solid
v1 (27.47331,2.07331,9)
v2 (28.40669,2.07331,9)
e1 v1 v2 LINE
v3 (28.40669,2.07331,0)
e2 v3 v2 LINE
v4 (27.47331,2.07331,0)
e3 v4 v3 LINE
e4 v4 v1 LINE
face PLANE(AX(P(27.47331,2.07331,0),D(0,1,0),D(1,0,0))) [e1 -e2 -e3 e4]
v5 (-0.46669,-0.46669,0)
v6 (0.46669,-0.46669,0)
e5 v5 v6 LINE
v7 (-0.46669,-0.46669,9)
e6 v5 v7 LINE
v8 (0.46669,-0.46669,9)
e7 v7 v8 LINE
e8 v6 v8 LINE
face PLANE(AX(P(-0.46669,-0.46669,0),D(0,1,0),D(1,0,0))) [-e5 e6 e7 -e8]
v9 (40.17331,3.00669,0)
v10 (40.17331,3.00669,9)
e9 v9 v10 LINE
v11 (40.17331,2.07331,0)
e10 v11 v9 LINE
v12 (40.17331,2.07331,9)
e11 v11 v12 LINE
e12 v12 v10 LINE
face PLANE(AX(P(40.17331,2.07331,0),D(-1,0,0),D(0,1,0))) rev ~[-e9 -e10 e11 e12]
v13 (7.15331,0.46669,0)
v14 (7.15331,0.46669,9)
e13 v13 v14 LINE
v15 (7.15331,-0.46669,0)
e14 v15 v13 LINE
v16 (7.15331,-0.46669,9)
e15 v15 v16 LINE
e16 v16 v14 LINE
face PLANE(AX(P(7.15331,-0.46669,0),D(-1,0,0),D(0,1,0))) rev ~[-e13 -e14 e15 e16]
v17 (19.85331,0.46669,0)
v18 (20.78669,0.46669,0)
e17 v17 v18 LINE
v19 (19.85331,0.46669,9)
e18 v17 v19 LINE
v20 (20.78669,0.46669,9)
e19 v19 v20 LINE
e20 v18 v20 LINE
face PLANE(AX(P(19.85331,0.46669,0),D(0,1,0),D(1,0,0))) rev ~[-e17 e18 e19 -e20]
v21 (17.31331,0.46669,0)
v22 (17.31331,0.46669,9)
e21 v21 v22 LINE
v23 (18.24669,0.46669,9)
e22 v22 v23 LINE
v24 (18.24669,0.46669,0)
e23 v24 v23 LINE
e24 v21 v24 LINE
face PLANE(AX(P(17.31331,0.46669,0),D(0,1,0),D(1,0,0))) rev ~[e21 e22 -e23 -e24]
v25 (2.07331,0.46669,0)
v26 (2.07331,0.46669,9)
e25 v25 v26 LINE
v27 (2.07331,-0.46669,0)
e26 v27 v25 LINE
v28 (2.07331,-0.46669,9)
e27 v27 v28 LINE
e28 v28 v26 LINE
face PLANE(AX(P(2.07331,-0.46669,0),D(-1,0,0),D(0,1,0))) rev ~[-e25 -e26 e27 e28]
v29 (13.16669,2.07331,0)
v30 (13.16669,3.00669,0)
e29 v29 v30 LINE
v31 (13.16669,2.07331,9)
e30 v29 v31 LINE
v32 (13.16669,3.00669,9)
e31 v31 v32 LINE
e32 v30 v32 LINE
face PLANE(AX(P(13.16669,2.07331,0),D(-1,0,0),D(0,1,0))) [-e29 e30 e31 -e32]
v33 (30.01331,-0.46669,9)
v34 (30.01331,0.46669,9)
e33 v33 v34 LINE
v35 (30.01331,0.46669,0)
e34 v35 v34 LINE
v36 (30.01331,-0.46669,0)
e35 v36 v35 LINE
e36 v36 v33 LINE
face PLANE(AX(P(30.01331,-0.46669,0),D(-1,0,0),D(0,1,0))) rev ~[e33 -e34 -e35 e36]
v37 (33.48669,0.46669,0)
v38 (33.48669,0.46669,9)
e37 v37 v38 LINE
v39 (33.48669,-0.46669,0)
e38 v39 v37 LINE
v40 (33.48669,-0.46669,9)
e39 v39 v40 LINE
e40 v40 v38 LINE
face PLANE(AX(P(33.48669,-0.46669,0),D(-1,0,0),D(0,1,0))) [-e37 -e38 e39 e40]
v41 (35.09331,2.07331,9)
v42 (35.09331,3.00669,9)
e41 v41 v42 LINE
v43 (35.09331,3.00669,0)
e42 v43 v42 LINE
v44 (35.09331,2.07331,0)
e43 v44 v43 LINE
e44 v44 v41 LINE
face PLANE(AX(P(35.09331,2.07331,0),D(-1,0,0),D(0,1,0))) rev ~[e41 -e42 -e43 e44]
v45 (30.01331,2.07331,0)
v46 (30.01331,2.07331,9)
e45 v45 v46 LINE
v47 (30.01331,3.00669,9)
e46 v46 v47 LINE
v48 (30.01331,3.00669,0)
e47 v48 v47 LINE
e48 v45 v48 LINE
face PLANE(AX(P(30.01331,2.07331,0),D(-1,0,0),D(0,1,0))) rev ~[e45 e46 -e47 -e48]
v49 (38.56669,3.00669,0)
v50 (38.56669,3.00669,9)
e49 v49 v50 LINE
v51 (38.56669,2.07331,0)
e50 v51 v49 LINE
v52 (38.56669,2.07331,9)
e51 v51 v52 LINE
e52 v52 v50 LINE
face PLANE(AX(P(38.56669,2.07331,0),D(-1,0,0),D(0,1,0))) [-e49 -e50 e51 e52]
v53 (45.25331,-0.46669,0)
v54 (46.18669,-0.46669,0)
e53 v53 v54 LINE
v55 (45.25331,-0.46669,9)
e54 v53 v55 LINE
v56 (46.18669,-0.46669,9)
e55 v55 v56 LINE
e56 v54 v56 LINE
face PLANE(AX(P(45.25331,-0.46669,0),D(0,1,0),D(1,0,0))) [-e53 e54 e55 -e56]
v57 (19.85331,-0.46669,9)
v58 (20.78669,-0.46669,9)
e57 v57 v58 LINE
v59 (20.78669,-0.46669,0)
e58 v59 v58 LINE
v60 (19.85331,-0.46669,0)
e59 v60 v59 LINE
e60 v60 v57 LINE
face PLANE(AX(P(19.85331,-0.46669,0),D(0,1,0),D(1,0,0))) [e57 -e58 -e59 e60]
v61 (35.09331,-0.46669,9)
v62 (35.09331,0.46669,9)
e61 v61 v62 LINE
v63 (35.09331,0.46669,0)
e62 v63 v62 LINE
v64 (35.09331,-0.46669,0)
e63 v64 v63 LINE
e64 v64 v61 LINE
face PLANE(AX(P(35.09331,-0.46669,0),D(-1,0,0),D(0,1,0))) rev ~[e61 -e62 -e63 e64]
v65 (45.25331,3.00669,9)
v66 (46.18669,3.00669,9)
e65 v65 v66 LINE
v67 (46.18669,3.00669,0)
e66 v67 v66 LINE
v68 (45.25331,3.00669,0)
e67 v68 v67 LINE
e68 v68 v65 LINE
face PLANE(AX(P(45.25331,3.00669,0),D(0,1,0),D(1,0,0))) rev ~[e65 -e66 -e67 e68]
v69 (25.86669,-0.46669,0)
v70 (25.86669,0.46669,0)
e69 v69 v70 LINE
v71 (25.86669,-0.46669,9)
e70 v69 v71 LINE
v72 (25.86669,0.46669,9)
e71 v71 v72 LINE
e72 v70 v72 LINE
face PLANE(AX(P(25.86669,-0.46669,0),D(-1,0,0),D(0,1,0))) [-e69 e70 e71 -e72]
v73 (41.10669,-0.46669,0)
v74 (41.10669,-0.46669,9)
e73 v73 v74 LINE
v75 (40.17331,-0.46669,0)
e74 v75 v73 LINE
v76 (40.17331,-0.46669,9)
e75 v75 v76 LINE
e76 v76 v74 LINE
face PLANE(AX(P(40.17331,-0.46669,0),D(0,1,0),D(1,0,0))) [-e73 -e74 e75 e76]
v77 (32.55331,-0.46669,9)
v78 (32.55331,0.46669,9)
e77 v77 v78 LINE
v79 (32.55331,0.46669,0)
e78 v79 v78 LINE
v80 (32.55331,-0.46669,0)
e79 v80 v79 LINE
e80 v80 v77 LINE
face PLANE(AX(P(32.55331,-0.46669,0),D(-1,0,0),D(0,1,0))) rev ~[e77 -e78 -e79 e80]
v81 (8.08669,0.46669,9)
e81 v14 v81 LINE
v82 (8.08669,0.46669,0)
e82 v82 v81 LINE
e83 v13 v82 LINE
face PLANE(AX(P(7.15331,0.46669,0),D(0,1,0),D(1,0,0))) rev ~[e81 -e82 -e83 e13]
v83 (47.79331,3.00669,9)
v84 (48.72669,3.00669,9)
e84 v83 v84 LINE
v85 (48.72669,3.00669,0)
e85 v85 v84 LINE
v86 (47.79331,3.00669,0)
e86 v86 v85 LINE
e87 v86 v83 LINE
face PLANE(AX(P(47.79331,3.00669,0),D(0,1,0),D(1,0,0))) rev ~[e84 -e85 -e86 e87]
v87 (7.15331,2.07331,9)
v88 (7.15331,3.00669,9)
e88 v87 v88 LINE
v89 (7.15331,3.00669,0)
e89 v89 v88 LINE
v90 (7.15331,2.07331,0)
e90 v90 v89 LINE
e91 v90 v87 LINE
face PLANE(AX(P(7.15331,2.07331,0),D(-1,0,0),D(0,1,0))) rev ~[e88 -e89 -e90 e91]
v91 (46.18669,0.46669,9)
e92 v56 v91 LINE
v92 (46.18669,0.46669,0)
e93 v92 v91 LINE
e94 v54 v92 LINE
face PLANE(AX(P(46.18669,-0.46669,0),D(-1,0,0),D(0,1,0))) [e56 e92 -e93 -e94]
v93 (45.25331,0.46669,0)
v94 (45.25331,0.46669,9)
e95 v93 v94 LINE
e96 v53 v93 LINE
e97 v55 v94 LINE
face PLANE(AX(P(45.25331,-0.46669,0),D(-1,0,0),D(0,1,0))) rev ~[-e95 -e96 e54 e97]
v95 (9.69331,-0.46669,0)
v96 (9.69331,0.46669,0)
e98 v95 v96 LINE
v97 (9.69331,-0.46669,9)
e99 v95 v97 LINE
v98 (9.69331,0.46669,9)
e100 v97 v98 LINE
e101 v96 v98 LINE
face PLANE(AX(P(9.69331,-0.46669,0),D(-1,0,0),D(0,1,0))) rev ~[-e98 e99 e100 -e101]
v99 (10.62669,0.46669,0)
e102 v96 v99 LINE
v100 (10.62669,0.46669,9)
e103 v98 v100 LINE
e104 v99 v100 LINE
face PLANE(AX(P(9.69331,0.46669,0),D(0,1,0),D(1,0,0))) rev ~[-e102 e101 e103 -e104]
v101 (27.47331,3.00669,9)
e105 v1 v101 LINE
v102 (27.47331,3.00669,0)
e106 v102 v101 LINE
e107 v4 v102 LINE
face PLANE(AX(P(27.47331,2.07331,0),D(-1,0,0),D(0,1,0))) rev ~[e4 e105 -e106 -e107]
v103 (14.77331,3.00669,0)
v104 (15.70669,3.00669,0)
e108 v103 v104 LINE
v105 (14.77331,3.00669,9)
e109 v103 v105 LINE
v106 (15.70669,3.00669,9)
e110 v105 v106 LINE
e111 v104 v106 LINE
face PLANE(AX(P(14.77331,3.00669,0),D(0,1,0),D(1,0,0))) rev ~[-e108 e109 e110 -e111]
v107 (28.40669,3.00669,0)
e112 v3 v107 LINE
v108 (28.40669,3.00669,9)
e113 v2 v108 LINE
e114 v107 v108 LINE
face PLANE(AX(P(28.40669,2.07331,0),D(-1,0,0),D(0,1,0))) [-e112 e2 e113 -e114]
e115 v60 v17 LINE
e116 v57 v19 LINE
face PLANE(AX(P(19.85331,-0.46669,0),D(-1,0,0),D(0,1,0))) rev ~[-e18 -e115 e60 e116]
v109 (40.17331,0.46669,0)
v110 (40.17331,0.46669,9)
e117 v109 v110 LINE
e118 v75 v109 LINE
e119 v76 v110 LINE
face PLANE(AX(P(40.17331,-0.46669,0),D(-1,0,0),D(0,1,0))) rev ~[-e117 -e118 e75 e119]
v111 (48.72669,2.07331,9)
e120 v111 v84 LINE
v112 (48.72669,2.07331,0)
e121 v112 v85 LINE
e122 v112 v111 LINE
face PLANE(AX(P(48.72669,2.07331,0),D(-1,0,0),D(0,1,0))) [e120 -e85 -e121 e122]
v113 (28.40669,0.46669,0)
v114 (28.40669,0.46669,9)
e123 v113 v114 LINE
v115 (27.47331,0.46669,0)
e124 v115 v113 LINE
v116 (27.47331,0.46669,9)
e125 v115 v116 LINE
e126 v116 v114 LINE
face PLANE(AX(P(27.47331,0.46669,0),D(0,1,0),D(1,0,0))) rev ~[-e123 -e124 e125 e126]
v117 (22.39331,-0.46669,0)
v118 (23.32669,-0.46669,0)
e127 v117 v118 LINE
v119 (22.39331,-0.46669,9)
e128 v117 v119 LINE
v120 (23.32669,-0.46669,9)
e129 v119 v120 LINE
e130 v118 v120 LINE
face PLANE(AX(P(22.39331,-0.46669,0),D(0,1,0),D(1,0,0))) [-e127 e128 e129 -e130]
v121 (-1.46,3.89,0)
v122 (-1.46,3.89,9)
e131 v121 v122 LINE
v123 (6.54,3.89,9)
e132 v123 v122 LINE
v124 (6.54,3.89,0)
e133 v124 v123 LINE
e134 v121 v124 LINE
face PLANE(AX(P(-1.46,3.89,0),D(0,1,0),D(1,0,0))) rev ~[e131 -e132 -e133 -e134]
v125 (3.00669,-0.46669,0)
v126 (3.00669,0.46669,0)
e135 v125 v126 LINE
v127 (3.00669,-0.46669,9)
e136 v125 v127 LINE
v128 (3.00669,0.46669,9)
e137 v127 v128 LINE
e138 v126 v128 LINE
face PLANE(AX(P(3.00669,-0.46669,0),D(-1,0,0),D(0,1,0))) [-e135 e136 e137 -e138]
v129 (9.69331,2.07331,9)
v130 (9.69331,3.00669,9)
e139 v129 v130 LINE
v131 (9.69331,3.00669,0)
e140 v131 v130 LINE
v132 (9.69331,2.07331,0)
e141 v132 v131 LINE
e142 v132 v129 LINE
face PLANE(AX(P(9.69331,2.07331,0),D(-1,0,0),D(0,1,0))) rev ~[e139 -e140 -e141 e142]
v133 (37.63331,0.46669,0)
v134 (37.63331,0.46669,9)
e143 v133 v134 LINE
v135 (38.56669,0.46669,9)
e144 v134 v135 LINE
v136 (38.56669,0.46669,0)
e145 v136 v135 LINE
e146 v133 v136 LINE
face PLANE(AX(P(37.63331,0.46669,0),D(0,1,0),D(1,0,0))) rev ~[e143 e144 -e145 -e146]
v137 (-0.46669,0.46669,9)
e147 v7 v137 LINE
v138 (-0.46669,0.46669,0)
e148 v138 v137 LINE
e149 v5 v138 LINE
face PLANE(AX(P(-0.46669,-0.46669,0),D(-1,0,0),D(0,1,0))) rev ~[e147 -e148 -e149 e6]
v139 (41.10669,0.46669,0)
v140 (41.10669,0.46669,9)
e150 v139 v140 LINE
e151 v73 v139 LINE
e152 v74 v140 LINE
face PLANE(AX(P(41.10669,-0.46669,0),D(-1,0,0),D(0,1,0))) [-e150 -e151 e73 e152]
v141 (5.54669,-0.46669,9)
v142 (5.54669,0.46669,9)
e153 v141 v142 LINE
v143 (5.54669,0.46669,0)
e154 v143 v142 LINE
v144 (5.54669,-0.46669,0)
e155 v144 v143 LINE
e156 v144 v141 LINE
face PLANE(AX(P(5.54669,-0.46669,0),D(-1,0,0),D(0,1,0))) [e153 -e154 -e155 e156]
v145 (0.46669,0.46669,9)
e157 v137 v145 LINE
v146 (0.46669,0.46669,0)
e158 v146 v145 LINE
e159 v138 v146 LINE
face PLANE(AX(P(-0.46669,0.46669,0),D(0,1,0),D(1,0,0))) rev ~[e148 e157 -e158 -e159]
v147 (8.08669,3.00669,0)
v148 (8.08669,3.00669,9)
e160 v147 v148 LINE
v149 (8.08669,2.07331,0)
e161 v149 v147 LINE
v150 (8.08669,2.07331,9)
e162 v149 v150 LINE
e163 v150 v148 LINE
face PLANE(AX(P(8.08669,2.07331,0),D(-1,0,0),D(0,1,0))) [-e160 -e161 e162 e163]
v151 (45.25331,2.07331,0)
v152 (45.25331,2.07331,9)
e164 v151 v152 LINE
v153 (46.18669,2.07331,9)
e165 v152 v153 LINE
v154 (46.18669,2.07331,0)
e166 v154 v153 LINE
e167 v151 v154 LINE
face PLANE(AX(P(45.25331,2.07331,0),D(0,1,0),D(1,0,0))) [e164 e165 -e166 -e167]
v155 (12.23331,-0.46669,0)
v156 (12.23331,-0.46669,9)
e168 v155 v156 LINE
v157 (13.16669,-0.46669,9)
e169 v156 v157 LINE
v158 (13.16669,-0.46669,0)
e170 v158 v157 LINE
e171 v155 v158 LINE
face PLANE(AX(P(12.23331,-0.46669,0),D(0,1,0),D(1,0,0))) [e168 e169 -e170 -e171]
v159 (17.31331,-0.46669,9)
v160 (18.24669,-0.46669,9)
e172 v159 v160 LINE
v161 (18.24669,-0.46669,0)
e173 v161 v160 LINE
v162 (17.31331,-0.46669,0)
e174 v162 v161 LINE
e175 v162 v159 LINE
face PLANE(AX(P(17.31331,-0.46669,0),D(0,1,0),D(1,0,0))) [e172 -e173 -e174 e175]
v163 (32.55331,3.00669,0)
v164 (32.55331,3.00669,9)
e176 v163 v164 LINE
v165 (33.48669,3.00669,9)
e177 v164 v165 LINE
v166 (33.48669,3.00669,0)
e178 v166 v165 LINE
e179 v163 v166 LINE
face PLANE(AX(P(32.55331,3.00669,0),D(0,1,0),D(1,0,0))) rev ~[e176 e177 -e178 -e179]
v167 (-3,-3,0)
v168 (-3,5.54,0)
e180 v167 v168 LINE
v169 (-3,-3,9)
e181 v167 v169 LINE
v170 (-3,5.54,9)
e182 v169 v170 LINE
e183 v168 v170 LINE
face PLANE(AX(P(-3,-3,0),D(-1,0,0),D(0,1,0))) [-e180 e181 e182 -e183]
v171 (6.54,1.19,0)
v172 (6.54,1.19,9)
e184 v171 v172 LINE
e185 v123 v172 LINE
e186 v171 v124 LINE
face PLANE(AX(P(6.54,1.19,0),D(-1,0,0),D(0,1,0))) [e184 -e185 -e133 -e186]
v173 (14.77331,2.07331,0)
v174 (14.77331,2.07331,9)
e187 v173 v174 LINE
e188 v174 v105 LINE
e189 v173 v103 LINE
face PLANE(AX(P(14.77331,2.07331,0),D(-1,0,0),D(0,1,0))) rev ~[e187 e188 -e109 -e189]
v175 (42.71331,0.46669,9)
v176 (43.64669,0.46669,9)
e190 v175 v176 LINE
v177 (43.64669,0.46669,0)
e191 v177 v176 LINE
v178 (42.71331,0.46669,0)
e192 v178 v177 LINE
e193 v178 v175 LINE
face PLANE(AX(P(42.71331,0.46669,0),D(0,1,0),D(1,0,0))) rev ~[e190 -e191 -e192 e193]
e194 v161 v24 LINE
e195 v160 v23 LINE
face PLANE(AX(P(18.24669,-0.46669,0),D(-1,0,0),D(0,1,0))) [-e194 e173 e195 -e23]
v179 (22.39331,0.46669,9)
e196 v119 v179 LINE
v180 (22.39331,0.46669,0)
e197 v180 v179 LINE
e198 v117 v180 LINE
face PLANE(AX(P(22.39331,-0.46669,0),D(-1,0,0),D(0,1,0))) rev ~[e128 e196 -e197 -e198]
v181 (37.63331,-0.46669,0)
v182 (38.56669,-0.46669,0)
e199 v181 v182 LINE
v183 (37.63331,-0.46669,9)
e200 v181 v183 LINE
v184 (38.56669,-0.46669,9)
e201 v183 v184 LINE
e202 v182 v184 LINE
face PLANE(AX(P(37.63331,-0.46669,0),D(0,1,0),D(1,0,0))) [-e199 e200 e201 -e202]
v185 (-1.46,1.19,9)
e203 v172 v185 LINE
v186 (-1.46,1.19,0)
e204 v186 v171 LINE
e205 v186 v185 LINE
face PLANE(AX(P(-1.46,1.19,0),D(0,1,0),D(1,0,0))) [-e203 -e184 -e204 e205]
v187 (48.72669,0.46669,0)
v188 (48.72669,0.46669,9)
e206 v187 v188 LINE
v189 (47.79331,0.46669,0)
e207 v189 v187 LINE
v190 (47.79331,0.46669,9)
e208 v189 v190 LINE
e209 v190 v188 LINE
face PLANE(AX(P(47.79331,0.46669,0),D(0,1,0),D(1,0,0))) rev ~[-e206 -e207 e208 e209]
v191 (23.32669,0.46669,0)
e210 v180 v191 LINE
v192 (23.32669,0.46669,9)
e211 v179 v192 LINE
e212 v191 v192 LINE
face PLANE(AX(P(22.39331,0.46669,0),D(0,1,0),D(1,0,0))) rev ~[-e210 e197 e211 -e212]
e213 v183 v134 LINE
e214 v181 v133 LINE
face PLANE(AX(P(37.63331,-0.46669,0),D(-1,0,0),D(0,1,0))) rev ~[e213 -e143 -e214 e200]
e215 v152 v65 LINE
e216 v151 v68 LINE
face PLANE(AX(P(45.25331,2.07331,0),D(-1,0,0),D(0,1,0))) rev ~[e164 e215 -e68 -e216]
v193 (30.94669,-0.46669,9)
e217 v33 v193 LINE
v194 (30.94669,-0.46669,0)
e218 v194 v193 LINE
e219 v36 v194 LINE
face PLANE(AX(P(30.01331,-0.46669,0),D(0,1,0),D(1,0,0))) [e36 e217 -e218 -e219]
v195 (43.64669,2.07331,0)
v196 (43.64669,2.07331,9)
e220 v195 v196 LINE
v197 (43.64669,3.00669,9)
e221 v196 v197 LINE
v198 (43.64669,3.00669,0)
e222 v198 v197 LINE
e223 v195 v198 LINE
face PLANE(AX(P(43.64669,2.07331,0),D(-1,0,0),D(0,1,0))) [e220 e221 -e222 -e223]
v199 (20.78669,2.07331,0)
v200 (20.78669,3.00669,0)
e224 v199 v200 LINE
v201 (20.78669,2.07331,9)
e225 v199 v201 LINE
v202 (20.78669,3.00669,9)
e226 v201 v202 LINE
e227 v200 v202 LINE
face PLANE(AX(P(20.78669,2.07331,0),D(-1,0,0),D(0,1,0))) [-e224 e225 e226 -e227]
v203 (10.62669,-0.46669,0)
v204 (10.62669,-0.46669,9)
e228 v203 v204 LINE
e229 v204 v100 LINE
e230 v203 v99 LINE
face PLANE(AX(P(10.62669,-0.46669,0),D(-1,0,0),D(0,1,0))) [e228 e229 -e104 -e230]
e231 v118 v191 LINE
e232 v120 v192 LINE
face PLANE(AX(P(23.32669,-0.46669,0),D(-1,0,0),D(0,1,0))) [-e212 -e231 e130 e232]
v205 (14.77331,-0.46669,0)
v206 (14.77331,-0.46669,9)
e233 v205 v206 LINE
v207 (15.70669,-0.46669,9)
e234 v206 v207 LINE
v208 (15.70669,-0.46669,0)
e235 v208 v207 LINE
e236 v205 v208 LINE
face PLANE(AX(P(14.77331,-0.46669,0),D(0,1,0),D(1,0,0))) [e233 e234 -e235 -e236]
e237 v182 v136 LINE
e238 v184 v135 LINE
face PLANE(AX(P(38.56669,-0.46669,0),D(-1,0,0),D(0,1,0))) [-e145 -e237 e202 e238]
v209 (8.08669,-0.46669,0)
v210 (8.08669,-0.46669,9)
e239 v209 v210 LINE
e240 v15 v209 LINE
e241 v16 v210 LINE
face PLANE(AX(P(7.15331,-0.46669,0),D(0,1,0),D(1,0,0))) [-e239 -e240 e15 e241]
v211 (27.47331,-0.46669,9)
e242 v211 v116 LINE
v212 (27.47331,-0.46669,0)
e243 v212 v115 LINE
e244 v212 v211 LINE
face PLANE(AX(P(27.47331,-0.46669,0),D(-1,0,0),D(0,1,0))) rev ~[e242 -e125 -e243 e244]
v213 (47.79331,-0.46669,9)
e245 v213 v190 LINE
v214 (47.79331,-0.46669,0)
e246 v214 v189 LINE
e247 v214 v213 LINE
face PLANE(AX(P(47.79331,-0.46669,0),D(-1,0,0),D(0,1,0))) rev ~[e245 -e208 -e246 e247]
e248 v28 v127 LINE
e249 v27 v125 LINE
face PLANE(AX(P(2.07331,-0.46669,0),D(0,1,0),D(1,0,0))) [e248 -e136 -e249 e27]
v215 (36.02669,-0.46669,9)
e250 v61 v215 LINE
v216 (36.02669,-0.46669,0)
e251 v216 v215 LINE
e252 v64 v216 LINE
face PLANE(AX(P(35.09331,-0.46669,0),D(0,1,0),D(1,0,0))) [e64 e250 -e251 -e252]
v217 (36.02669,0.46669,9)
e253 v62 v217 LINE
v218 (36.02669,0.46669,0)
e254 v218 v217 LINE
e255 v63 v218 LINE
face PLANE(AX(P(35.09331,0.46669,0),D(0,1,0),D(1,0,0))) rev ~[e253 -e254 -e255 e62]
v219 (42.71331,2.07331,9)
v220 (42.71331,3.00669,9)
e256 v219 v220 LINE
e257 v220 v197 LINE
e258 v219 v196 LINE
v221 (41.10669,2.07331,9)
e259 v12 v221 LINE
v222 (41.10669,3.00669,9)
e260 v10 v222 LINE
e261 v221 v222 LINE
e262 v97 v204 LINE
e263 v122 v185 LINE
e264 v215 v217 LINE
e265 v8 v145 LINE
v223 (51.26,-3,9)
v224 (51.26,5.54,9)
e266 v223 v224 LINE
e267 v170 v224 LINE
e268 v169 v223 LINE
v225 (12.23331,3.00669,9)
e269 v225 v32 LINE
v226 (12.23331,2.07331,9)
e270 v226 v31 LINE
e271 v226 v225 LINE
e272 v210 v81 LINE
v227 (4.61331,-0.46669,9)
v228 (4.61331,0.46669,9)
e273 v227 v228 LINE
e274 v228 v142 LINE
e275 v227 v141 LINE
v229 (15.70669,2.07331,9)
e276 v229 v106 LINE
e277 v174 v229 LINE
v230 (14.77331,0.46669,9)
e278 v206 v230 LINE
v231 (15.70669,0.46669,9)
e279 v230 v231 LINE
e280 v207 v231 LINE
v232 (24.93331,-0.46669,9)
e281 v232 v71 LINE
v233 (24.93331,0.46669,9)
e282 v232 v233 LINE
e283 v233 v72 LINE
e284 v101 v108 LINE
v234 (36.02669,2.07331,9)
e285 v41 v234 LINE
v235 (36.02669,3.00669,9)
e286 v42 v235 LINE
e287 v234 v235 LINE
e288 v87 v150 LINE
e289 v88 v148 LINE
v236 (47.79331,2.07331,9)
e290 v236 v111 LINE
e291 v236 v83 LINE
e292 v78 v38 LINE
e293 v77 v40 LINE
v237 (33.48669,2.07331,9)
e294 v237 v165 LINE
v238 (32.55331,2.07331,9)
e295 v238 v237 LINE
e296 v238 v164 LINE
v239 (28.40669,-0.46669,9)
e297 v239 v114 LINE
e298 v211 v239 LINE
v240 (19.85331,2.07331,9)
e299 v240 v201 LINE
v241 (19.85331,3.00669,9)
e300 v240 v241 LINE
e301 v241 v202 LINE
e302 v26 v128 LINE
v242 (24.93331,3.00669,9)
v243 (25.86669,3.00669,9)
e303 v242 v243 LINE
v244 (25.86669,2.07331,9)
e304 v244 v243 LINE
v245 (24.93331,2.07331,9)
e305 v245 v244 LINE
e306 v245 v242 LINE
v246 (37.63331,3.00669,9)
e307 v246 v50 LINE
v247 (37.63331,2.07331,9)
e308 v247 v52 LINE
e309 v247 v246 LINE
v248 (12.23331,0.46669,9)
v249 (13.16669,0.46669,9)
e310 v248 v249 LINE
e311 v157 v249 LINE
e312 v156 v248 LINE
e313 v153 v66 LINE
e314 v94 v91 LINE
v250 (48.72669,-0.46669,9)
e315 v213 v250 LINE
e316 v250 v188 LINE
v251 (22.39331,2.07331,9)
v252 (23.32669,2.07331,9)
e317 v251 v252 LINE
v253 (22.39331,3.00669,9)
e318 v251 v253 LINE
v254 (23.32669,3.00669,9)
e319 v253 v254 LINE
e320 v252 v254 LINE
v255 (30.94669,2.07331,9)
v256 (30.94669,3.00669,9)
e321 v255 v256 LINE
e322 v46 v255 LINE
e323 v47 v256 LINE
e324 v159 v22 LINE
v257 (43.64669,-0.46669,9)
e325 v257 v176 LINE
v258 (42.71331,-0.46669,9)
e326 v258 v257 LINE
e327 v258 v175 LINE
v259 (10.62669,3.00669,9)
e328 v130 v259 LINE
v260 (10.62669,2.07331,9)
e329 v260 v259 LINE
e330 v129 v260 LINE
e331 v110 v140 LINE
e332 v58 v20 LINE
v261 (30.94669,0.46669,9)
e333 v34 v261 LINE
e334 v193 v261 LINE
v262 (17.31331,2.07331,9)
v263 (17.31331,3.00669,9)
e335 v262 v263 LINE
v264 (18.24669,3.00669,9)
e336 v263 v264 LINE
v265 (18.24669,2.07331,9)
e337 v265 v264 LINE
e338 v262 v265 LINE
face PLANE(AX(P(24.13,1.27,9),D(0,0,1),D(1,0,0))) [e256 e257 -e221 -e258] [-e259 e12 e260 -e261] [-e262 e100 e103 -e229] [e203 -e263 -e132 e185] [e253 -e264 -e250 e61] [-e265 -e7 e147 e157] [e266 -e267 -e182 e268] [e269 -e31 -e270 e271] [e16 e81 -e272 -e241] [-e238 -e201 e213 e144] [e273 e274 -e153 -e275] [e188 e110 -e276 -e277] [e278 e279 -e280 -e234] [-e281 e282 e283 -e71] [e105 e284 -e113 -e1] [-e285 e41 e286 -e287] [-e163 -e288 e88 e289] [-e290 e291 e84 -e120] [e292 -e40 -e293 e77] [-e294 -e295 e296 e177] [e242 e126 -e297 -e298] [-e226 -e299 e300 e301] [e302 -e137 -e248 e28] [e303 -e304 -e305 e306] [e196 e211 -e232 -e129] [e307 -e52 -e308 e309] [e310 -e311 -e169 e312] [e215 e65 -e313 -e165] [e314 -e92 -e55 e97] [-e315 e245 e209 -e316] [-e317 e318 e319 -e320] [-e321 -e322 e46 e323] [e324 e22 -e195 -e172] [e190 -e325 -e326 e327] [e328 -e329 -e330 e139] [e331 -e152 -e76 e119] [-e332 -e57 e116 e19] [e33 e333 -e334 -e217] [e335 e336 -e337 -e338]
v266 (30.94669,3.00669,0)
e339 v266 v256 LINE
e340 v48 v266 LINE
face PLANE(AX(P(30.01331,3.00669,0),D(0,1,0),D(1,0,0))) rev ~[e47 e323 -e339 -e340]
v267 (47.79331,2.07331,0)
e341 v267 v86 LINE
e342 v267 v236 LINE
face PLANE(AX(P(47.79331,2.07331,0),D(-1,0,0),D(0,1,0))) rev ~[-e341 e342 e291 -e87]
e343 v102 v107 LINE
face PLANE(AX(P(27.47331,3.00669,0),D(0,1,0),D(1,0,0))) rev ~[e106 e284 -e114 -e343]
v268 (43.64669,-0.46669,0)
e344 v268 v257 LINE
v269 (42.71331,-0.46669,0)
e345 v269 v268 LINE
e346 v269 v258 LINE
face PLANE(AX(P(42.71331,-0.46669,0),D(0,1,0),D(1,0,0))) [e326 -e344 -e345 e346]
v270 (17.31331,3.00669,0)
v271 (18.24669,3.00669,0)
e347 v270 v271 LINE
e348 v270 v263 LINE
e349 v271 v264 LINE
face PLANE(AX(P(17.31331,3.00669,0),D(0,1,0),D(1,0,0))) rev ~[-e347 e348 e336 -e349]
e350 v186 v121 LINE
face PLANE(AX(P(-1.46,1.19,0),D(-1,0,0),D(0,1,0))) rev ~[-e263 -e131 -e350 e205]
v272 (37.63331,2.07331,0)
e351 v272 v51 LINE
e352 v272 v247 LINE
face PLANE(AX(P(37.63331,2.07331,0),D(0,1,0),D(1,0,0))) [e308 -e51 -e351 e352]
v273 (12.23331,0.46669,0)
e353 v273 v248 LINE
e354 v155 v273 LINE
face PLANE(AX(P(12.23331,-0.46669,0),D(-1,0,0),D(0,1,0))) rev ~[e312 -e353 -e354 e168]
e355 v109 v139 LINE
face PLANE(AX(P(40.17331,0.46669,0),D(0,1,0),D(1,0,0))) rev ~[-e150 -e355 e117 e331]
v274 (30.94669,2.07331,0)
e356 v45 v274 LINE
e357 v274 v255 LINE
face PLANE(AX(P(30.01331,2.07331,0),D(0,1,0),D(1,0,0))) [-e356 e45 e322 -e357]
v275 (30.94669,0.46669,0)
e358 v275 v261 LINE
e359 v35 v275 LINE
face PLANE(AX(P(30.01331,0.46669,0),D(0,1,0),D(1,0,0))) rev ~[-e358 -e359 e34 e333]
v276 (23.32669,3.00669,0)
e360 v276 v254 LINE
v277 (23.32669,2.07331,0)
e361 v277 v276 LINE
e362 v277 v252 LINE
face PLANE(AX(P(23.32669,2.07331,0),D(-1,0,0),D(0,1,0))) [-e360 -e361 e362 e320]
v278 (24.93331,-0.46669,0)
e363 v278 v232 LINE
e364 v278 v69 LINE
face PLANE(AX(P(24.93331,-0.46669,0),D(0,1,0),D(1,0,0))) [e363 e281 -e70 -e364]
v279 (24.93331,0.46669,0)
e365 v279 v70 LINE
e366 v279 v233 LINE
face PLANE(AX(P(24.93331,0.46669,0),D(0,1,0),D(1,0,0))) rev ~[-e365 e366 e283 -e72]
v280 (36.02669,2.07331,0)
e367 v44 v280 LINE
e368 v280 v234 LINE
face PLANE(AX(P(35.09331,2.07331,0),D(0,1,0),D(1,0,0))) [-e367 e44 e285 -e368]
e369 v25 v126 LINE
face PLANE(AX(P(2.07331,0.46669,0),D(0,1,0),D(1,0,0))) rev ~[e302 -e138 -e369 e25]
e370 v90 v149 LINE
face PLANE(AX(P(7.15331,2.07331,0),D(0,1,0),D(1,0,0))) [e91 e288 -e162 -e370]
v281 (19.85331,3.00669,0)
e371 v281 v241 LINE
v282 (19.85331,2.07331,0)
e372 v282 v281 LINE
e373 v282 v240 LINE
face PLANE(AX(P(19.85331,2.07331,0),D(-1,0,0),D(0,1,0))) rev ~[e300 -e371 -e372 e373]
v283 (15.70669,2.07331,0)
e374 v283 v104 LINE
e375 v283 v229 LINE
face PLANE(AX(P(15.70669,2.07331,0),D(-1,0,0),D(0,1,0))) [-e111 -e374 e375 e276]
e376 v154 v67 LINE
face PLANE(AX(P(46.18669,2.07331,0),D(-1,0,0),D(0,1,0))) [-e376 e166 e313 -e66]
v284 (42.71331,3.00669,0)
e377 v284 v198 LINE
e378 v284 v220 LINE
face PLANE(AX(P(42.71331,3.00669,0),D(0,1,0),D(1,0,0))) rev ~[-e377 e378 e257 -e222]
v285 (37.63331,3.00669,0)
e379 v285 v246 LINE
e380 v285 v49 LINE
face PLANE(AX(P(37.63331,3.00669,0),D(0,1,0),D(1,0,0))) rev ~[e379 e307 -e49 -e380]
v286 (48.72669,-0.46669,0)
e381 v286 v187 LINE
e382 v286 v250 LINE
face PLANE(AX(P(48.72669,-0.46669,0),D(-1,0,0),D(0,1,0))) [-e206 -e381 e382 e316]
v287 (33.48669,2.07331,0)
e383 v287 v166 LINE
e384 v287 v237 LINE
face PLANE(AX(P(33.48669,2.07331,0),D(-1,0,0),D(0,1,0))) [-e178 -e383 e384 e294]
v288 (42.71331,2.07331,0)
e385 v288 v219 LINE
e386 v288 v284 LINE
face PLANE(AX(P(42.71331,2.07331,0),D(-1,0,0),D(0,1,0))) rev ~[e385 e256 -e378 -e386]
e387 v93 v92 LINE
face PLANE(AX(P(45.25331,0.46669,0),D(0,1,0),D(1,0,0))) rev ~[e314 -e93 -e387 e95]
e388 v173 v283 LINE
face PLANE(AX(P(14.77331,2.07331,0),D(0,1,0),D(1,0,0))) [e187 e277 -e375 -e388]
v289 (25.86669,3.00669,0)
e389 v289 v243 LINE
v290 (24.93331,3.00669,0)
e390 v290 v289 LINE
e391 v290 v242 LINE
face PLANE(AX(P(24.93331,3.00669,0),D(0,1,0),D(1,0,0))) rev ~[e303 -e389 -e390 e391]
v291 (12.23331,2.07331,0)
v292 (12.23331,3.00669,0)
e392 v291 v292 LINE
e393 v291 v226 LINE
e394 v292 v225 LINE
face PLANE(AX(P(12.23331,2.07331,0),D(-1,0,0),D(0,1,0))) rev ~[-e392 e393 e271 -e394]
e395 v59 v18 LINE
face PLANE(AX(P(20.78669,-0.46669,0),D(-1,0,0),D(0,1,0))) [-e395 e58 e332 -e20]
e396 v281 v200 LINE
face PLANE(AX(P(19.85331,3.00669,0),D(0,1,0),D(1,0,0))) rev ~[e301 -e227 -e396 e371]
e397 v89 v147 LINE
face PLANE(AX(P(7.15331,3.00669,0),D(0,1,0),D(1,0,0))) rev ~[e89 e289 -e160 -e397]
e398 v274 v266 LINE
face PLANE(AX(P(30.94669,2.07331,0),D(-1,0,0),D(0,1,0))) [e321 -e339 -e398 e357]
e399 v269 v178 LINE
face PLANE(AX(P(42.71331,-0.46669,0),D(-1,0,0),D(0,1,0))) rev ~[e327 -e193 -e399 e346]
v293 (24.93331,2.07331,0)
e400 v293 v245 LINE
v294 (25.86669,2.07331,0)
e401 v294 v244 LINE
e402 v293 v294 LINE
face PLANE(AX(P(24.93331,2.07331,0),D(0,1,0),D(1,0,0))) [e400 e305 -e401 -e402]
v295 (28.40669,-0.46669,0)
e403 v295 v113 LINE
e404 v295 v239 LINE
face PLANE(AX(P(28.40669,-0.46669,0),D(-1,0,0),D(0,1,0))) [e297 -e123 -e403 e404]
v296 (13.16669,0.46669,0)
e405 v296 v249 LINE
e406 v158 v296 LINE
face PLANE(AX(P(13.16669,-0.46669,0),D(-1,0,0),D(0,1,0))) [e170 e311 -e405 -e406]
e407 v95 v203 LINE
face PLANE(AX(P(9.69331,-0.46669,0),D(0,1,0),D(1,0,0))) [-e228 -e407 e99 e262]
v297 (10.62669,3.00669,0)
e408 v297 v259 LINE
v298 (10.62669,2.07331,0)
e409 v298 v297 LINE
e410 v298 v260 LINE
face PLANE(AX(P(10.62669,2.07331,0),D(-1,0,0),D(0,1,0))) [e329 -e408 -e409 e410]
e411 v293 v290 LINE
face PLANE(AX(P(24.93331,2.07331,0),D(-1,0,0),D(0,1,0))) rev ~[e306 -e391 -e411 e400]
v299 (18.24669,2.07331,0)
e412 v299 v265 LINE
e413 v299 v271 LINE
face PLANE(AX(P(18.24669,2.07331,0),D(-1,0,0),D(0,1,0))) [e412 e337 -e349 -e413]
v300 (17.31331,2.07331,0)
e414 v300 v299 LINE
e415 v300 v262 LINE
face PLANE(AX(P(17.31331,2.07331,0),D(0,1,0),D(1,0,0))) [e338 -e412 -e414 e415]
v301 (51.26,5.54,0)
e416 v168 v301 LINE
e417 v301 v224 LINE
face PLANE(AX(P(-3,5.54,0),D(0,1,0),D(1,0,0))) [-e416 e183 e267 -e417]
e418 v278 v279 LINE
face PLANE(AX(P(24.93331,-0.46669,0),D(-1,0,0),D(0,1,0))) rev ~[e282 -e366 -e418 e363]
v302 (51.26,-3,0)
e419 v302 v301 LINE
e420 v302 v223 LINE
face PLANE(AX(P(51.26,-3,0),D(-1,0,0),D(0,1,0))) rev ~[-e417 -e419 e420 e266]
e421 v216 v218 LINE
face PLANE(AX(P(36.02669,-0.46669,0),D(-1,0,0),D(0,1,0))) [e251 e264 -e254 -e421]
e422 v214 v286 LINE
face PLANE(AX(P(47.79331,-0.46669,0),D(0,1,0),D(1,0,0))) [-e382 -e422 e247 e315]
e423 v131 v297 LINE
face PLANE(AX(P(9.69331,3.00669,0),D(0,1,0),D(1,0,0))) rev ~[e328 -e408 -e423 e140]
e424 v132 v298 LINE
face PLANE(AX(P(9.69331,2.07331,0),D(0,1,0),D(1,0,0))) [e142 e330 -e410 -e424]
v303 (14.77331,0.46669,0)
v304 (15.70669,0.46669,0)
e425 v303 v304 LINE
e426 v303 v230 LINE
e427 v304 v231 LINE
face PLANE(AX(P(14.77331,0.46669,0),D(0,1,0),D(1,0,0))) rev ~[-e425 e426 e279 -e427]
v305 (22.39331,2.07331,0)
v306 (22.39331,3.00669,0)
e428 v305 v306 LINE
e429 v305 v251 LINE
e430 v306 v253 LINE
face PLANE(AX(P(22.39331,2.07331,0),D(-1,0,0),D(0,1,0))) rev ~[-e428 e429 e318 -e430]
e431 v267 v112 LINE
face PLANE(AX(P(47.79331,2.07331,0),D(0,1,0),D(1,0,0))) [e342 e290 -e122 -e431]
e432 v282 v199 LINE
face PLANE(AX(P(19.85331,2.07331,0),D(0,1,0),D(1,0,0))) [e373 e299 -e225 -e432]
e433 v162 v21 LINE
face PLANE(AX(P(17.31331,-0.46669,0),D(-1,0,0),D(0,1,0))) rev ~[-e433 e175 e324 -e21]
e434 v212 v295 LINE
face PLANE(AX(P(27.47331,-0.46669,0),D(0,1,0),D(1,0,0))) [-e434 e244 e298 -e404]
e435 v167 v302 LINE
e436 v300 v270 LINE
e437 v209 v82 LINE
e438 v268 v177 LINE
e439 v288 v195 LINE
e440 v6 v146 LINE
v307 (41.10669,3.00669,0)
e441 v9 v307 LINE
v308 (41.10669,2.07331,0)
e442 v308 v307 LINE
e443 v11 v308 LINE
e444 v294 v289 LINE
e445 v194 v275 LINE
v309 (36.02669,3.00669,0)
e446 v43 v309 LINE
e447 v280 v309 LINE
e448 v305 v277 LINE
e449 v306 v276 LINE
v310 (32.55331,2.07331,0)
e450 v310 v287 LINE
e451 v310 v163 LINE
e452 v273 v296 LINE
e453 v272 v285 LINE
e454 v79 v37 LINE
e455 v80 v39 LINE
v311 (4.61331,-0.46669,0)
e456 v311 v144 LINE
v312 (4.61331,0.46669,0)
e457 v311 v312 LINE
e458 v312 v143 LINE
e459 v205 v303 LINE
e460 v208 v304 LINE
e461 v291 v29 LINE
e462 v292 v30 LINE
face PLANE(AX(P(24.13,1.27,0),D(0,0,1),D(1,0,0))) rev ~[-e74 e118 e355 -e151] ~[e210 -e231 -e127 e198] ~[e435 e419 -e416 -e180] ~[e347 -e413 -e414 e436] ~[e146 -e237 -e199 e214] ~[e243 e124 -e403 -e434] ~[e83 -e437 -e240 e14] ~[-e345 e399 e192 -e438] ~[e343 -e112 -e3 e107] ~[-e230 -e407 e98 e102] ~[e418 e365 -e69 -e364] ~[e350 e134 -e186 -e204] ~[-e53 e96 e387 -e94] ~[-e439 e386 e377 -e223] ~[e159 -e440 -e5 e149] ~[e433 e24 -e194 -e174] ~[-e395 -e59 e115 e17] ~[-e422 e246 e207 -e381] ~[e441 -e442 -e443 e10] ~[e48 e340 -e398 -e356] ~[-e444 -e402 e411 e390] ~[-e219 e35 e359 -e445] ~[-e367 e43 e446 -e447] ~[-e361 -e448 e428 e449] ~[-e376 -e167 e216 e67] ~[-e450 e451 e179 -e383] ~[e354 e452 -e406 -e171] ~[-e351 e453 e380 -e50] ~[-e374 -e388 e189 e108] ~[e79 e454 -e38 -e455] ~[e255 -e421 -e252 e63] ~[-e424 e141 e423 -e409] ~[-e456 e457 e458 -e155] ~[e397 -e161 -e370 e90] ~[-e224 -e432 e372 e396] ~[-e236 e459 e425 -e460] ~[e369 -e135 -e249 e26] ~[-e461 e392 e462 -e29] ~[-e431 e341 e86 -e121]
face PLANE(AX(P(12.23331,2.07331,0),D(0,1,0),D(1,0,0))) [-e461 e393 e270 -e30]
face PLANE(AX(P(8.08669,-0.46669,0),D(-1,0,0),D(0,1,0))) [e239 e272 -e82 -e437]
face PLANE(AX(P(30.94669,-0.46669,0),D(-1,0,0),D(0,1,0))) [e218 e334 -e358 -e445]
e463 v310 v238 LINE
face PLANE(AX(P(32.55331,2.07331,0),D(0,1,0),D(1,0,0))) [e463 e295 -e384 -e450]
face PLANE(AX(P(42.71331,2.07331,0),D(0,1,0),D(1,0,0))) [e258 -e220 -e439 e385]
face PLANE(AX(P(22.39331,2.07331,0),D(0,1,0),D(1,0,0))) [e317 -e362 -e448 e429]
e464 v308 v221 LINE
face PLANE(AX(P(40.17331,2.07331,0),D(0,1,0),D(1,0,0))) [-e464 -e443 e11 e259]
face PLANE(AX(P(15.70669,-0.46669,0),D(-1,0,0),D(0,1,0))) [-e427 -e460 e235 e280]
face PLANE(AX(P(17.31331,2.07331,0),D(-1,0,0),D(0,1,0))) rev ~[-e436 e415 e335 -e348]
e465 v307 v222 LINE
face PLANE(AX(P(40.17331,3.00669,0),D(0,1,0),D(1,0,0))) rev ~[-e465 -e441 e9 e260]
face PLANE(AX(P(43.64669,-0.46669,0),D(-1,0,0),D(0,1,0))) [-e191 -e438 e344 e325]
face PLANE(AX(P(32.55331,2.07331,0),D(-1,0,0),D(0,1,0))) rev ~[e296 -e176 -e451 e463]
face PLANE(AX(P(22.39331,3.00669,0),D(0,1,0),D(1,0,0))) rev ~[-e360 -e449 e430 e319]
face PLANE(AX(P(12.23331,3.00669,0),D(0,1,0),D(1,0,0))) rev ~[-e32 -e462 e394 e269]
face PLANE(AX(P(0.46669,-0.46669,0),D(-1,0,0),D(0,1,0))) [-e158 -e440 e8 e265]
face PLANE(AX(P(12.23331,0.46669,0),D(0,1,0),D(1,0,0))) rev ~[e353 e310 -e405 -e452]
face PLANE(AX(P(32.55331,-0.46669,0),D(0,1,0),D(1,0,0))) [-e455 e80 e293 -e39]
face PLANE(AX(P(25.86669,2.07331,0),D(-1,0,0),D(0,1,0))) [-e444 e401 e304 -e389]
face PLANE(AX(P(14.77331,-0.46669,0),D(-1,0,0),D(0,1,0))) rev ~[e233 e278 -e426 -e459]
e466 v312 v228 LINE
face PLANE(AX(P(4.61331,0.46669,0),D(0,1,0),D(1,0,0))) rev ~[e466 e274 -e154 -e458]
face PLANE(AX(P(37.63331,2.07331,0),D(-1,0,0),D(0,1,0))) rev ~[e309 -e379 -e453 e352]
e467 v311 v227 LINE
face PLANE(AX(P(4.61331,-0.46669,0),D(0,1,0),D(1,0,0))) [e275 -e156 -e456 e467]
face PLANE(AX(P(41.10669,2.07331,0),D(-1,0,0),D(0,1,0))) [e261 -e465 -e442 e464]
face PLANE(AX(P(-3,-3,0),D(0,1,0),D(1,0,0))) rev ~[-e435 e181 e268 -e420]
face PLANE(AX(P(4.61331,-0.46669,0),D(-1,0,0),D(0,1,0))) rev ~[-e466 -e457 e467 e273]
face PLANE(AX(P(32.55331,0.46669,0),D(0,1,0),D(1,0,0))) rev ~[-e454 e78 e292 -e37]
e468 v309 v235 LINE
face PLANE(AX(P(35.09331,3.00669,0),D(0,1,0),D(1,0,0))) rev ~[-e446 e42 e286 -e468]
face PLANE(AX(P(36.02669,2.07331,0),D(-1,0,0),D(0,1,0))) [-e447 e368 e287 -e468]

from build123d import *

# Parameters (mm, degrees)
F0_W     = 54.26
F0_H     = 8.54
F0_W_2   = 0.93338
F0_H_2   = 0.93338
F1_DEPTH = 9
F2_W     = 8
F2_H     = 2.7
F3_DEPTH = 25


with BuildPart() as f1:
    # F0 (on Top) → F1 (new body)
    with BuildSketch(Plane.XY):
        with Locations((24.13, 1.27)):
            Rectangle(F0_W, F0_H)
        Rectangle(F0_W_2, F0_H_2, mode=Mode.SUBTRACT)
        with Locations((2.54, 0)):
            Rectangle(F0_W_2, F0_H_2, mode=Mode.SUBTRACT)
        with Locations((5.08, 0)):
            Rectangle(F0_W_2, F0_H_2, mode=Mode.SUBTRACT)
        with Locations((7.62, 0)):
            Rectangle(F0_W_2, F0_H_2, mode=Mode.SUBTRACT)
        with Locations((10.16, 0)):
            Rectangle(F0_W_2, F0_H_2, mode=Mode.SUBTRACT)
        with Locations((12.7, 0)):
            Rectangle(F0_W_2, F0_H_2, mode=Mode.SUBTRACT)
        with Locations((15.24, 0)):
            Rectangle(F0_W_2, F0_H_2, mode=Mode.SUBTRACT)
        with Locations((17.78, 0)):
            Rectangle(F0_W_2, F0_H_2, mode=Mode.SUBTRACT)
        with Locations((20.32, 0)):
            Rectangle(F0_W_2, F0_H_2, mode=Mode.SUBTRACT)
        with Locations((22.86, 0)):
            Rectangle(F0_W_2, F0_H_2, mode=Mode.SUBTRACT)
        with Locations((25.4, 0)):
            Rectangle(F0_W_2, F0_H_2, mode=Mode.SUBTRACT)
        with Locations((27.94, 0)):
            Rectangle(F0_W_2, F0_H_2, mode=Mode.SUBTRACT)
        with Locations((30.48, 0)):
            Rectangle(F0_W_2, F0_H_2, mode=Mode.SUBTRACT)
        with Locations((33.02, 0)):
            Rectangle(F0_W_2, F0_H_2, mode=Mode.SUBTRACT)
        with Locations((35.56, 0)):
            Rectangle(F0_W_2, F0_H_2, mode=Mode.SUBTRACT)
        with Locations((38.1, 0)):
            Rectangle(F0_W_2, F0_H_2, mode=Mode.SUBTRACT)
        with Locations((40.64, 0)):
            Rectangle(F0_W_2, F0_H_2, mode=Mode.SUBTRACT)
        with Locations((43.18, 0)):
            Rectangle(F0_W_2, F0_H_2, mode=Mode.SUBTRACT)
        with Locations((45.72, 0)):
            Rectangle(F0_W_2, F0_H_2, mode=Mode.SUBTRACT)
        with Locations((48.26, 0)):
            Rectangle(F0_W_2, F0_H_2, mode=Mode.SUBTRACT)
        with Locations((0, 2.54)):
            Rectangle(F0_W_2, F0_H_2, mode=Mode.SUBTRACT)
        with Locations((2.54, 2.54)):
            Rectangle(F0_W_2, F0_H_2, mode=Mode.SUBTRACT)
        with Locations((5.08, 2.54)):
            Rectangle(F0_W_2, F0_H_2, mode=Mode.SUBTRACT)
        with Locations((7.62, 2.54)):
            Rectangle(F0_W_2, F0_H_2, mode=Mode.SUBTRACT)
        with Locations((10.16, 2.54)):
            Rectangle(F0_W_2, F0_H_2, mode=Mode.SUBTRACT)
        with Locations((12.7, 2.54)):
            Rectangle(F0_W_2, F0_H_2, mode=Mode.SUBTRACT)
        with Locations((15.24, 2.54)):
            Rectangle(F0_W_2, F0_H_2, mode=Mode.SUBTRACT)
        with Locations((17.78, 2.54)):
            Rectangle(F0_W_2, F0_H_2, mode=Mode.SUBTRACT)
        with Locations((20.32, 2.54)):
            Rectangle(F0_W_2, F0_H_2, mode=Mode.SUBTRACT)
        with Locations((22.86, 2.54)):
            Rectangle(F0_W_2, F0_H_2, mode=Mode.SUBTRACT)
        with Locations((25.4, 2.54)):
            Rectangle(F0_W_2, F0_H_2, mode=Mode.SUBTRACT)
        with Locations((27.94, 2.54)):
            Rectangle(F0_W_2, F0_H_2, mode=Mode.SUBTRACT)
        with Locations((30.48, 2.54)):
            Rectangle(F0_W_2, F0_H_2, mode=Mode.SUBTRACT)
        with Locations((33.02, 2.54)):
            Rectangle(F0_W_2, F0_H_2, mode=Mode.SUBTRACT)
        with Locations((35.56, 2.54)):
            Rectangle(F0_W_2, F0_H_2, mode=Mode.SUBTRACT)
        with Locations((38.1, 2.54)):
            Rectangle(F0_W_2, F0_H_2, mode=Mode.SUBTRACT)
        with Locations((40.64, 2.54)):
            Rectangle(F0_W_2, F0_H_2, mode=Mode.SUBTRACT)
        with Locations((43.18, 2.54)):
            Rectangle(F0_W_2, F0_H_2, mode=Mode.SUBTRACT)
        with Locations((45.72, 2.54)):
            Rectangle(F0_W_2, F0_H_2, mode=Mode.SUBTRACT)
        with Locations((48.26, 2.54)):
            Rectangle(F0_W_2, F0_H_2, mode=Mode.SUBTRACT)
    extrude(amount=F1_DEPTH)

    # F2 (on Top) → F3 (cut)
    with BuildSketch(Plane.XY):
        with Locations((2.54, 2.54)):
            Rectangle(F2_W, F2_H)
    extrude(amount=F3_DEPTH, mode=Mode.SUBTRACT)


solid = f1.part
